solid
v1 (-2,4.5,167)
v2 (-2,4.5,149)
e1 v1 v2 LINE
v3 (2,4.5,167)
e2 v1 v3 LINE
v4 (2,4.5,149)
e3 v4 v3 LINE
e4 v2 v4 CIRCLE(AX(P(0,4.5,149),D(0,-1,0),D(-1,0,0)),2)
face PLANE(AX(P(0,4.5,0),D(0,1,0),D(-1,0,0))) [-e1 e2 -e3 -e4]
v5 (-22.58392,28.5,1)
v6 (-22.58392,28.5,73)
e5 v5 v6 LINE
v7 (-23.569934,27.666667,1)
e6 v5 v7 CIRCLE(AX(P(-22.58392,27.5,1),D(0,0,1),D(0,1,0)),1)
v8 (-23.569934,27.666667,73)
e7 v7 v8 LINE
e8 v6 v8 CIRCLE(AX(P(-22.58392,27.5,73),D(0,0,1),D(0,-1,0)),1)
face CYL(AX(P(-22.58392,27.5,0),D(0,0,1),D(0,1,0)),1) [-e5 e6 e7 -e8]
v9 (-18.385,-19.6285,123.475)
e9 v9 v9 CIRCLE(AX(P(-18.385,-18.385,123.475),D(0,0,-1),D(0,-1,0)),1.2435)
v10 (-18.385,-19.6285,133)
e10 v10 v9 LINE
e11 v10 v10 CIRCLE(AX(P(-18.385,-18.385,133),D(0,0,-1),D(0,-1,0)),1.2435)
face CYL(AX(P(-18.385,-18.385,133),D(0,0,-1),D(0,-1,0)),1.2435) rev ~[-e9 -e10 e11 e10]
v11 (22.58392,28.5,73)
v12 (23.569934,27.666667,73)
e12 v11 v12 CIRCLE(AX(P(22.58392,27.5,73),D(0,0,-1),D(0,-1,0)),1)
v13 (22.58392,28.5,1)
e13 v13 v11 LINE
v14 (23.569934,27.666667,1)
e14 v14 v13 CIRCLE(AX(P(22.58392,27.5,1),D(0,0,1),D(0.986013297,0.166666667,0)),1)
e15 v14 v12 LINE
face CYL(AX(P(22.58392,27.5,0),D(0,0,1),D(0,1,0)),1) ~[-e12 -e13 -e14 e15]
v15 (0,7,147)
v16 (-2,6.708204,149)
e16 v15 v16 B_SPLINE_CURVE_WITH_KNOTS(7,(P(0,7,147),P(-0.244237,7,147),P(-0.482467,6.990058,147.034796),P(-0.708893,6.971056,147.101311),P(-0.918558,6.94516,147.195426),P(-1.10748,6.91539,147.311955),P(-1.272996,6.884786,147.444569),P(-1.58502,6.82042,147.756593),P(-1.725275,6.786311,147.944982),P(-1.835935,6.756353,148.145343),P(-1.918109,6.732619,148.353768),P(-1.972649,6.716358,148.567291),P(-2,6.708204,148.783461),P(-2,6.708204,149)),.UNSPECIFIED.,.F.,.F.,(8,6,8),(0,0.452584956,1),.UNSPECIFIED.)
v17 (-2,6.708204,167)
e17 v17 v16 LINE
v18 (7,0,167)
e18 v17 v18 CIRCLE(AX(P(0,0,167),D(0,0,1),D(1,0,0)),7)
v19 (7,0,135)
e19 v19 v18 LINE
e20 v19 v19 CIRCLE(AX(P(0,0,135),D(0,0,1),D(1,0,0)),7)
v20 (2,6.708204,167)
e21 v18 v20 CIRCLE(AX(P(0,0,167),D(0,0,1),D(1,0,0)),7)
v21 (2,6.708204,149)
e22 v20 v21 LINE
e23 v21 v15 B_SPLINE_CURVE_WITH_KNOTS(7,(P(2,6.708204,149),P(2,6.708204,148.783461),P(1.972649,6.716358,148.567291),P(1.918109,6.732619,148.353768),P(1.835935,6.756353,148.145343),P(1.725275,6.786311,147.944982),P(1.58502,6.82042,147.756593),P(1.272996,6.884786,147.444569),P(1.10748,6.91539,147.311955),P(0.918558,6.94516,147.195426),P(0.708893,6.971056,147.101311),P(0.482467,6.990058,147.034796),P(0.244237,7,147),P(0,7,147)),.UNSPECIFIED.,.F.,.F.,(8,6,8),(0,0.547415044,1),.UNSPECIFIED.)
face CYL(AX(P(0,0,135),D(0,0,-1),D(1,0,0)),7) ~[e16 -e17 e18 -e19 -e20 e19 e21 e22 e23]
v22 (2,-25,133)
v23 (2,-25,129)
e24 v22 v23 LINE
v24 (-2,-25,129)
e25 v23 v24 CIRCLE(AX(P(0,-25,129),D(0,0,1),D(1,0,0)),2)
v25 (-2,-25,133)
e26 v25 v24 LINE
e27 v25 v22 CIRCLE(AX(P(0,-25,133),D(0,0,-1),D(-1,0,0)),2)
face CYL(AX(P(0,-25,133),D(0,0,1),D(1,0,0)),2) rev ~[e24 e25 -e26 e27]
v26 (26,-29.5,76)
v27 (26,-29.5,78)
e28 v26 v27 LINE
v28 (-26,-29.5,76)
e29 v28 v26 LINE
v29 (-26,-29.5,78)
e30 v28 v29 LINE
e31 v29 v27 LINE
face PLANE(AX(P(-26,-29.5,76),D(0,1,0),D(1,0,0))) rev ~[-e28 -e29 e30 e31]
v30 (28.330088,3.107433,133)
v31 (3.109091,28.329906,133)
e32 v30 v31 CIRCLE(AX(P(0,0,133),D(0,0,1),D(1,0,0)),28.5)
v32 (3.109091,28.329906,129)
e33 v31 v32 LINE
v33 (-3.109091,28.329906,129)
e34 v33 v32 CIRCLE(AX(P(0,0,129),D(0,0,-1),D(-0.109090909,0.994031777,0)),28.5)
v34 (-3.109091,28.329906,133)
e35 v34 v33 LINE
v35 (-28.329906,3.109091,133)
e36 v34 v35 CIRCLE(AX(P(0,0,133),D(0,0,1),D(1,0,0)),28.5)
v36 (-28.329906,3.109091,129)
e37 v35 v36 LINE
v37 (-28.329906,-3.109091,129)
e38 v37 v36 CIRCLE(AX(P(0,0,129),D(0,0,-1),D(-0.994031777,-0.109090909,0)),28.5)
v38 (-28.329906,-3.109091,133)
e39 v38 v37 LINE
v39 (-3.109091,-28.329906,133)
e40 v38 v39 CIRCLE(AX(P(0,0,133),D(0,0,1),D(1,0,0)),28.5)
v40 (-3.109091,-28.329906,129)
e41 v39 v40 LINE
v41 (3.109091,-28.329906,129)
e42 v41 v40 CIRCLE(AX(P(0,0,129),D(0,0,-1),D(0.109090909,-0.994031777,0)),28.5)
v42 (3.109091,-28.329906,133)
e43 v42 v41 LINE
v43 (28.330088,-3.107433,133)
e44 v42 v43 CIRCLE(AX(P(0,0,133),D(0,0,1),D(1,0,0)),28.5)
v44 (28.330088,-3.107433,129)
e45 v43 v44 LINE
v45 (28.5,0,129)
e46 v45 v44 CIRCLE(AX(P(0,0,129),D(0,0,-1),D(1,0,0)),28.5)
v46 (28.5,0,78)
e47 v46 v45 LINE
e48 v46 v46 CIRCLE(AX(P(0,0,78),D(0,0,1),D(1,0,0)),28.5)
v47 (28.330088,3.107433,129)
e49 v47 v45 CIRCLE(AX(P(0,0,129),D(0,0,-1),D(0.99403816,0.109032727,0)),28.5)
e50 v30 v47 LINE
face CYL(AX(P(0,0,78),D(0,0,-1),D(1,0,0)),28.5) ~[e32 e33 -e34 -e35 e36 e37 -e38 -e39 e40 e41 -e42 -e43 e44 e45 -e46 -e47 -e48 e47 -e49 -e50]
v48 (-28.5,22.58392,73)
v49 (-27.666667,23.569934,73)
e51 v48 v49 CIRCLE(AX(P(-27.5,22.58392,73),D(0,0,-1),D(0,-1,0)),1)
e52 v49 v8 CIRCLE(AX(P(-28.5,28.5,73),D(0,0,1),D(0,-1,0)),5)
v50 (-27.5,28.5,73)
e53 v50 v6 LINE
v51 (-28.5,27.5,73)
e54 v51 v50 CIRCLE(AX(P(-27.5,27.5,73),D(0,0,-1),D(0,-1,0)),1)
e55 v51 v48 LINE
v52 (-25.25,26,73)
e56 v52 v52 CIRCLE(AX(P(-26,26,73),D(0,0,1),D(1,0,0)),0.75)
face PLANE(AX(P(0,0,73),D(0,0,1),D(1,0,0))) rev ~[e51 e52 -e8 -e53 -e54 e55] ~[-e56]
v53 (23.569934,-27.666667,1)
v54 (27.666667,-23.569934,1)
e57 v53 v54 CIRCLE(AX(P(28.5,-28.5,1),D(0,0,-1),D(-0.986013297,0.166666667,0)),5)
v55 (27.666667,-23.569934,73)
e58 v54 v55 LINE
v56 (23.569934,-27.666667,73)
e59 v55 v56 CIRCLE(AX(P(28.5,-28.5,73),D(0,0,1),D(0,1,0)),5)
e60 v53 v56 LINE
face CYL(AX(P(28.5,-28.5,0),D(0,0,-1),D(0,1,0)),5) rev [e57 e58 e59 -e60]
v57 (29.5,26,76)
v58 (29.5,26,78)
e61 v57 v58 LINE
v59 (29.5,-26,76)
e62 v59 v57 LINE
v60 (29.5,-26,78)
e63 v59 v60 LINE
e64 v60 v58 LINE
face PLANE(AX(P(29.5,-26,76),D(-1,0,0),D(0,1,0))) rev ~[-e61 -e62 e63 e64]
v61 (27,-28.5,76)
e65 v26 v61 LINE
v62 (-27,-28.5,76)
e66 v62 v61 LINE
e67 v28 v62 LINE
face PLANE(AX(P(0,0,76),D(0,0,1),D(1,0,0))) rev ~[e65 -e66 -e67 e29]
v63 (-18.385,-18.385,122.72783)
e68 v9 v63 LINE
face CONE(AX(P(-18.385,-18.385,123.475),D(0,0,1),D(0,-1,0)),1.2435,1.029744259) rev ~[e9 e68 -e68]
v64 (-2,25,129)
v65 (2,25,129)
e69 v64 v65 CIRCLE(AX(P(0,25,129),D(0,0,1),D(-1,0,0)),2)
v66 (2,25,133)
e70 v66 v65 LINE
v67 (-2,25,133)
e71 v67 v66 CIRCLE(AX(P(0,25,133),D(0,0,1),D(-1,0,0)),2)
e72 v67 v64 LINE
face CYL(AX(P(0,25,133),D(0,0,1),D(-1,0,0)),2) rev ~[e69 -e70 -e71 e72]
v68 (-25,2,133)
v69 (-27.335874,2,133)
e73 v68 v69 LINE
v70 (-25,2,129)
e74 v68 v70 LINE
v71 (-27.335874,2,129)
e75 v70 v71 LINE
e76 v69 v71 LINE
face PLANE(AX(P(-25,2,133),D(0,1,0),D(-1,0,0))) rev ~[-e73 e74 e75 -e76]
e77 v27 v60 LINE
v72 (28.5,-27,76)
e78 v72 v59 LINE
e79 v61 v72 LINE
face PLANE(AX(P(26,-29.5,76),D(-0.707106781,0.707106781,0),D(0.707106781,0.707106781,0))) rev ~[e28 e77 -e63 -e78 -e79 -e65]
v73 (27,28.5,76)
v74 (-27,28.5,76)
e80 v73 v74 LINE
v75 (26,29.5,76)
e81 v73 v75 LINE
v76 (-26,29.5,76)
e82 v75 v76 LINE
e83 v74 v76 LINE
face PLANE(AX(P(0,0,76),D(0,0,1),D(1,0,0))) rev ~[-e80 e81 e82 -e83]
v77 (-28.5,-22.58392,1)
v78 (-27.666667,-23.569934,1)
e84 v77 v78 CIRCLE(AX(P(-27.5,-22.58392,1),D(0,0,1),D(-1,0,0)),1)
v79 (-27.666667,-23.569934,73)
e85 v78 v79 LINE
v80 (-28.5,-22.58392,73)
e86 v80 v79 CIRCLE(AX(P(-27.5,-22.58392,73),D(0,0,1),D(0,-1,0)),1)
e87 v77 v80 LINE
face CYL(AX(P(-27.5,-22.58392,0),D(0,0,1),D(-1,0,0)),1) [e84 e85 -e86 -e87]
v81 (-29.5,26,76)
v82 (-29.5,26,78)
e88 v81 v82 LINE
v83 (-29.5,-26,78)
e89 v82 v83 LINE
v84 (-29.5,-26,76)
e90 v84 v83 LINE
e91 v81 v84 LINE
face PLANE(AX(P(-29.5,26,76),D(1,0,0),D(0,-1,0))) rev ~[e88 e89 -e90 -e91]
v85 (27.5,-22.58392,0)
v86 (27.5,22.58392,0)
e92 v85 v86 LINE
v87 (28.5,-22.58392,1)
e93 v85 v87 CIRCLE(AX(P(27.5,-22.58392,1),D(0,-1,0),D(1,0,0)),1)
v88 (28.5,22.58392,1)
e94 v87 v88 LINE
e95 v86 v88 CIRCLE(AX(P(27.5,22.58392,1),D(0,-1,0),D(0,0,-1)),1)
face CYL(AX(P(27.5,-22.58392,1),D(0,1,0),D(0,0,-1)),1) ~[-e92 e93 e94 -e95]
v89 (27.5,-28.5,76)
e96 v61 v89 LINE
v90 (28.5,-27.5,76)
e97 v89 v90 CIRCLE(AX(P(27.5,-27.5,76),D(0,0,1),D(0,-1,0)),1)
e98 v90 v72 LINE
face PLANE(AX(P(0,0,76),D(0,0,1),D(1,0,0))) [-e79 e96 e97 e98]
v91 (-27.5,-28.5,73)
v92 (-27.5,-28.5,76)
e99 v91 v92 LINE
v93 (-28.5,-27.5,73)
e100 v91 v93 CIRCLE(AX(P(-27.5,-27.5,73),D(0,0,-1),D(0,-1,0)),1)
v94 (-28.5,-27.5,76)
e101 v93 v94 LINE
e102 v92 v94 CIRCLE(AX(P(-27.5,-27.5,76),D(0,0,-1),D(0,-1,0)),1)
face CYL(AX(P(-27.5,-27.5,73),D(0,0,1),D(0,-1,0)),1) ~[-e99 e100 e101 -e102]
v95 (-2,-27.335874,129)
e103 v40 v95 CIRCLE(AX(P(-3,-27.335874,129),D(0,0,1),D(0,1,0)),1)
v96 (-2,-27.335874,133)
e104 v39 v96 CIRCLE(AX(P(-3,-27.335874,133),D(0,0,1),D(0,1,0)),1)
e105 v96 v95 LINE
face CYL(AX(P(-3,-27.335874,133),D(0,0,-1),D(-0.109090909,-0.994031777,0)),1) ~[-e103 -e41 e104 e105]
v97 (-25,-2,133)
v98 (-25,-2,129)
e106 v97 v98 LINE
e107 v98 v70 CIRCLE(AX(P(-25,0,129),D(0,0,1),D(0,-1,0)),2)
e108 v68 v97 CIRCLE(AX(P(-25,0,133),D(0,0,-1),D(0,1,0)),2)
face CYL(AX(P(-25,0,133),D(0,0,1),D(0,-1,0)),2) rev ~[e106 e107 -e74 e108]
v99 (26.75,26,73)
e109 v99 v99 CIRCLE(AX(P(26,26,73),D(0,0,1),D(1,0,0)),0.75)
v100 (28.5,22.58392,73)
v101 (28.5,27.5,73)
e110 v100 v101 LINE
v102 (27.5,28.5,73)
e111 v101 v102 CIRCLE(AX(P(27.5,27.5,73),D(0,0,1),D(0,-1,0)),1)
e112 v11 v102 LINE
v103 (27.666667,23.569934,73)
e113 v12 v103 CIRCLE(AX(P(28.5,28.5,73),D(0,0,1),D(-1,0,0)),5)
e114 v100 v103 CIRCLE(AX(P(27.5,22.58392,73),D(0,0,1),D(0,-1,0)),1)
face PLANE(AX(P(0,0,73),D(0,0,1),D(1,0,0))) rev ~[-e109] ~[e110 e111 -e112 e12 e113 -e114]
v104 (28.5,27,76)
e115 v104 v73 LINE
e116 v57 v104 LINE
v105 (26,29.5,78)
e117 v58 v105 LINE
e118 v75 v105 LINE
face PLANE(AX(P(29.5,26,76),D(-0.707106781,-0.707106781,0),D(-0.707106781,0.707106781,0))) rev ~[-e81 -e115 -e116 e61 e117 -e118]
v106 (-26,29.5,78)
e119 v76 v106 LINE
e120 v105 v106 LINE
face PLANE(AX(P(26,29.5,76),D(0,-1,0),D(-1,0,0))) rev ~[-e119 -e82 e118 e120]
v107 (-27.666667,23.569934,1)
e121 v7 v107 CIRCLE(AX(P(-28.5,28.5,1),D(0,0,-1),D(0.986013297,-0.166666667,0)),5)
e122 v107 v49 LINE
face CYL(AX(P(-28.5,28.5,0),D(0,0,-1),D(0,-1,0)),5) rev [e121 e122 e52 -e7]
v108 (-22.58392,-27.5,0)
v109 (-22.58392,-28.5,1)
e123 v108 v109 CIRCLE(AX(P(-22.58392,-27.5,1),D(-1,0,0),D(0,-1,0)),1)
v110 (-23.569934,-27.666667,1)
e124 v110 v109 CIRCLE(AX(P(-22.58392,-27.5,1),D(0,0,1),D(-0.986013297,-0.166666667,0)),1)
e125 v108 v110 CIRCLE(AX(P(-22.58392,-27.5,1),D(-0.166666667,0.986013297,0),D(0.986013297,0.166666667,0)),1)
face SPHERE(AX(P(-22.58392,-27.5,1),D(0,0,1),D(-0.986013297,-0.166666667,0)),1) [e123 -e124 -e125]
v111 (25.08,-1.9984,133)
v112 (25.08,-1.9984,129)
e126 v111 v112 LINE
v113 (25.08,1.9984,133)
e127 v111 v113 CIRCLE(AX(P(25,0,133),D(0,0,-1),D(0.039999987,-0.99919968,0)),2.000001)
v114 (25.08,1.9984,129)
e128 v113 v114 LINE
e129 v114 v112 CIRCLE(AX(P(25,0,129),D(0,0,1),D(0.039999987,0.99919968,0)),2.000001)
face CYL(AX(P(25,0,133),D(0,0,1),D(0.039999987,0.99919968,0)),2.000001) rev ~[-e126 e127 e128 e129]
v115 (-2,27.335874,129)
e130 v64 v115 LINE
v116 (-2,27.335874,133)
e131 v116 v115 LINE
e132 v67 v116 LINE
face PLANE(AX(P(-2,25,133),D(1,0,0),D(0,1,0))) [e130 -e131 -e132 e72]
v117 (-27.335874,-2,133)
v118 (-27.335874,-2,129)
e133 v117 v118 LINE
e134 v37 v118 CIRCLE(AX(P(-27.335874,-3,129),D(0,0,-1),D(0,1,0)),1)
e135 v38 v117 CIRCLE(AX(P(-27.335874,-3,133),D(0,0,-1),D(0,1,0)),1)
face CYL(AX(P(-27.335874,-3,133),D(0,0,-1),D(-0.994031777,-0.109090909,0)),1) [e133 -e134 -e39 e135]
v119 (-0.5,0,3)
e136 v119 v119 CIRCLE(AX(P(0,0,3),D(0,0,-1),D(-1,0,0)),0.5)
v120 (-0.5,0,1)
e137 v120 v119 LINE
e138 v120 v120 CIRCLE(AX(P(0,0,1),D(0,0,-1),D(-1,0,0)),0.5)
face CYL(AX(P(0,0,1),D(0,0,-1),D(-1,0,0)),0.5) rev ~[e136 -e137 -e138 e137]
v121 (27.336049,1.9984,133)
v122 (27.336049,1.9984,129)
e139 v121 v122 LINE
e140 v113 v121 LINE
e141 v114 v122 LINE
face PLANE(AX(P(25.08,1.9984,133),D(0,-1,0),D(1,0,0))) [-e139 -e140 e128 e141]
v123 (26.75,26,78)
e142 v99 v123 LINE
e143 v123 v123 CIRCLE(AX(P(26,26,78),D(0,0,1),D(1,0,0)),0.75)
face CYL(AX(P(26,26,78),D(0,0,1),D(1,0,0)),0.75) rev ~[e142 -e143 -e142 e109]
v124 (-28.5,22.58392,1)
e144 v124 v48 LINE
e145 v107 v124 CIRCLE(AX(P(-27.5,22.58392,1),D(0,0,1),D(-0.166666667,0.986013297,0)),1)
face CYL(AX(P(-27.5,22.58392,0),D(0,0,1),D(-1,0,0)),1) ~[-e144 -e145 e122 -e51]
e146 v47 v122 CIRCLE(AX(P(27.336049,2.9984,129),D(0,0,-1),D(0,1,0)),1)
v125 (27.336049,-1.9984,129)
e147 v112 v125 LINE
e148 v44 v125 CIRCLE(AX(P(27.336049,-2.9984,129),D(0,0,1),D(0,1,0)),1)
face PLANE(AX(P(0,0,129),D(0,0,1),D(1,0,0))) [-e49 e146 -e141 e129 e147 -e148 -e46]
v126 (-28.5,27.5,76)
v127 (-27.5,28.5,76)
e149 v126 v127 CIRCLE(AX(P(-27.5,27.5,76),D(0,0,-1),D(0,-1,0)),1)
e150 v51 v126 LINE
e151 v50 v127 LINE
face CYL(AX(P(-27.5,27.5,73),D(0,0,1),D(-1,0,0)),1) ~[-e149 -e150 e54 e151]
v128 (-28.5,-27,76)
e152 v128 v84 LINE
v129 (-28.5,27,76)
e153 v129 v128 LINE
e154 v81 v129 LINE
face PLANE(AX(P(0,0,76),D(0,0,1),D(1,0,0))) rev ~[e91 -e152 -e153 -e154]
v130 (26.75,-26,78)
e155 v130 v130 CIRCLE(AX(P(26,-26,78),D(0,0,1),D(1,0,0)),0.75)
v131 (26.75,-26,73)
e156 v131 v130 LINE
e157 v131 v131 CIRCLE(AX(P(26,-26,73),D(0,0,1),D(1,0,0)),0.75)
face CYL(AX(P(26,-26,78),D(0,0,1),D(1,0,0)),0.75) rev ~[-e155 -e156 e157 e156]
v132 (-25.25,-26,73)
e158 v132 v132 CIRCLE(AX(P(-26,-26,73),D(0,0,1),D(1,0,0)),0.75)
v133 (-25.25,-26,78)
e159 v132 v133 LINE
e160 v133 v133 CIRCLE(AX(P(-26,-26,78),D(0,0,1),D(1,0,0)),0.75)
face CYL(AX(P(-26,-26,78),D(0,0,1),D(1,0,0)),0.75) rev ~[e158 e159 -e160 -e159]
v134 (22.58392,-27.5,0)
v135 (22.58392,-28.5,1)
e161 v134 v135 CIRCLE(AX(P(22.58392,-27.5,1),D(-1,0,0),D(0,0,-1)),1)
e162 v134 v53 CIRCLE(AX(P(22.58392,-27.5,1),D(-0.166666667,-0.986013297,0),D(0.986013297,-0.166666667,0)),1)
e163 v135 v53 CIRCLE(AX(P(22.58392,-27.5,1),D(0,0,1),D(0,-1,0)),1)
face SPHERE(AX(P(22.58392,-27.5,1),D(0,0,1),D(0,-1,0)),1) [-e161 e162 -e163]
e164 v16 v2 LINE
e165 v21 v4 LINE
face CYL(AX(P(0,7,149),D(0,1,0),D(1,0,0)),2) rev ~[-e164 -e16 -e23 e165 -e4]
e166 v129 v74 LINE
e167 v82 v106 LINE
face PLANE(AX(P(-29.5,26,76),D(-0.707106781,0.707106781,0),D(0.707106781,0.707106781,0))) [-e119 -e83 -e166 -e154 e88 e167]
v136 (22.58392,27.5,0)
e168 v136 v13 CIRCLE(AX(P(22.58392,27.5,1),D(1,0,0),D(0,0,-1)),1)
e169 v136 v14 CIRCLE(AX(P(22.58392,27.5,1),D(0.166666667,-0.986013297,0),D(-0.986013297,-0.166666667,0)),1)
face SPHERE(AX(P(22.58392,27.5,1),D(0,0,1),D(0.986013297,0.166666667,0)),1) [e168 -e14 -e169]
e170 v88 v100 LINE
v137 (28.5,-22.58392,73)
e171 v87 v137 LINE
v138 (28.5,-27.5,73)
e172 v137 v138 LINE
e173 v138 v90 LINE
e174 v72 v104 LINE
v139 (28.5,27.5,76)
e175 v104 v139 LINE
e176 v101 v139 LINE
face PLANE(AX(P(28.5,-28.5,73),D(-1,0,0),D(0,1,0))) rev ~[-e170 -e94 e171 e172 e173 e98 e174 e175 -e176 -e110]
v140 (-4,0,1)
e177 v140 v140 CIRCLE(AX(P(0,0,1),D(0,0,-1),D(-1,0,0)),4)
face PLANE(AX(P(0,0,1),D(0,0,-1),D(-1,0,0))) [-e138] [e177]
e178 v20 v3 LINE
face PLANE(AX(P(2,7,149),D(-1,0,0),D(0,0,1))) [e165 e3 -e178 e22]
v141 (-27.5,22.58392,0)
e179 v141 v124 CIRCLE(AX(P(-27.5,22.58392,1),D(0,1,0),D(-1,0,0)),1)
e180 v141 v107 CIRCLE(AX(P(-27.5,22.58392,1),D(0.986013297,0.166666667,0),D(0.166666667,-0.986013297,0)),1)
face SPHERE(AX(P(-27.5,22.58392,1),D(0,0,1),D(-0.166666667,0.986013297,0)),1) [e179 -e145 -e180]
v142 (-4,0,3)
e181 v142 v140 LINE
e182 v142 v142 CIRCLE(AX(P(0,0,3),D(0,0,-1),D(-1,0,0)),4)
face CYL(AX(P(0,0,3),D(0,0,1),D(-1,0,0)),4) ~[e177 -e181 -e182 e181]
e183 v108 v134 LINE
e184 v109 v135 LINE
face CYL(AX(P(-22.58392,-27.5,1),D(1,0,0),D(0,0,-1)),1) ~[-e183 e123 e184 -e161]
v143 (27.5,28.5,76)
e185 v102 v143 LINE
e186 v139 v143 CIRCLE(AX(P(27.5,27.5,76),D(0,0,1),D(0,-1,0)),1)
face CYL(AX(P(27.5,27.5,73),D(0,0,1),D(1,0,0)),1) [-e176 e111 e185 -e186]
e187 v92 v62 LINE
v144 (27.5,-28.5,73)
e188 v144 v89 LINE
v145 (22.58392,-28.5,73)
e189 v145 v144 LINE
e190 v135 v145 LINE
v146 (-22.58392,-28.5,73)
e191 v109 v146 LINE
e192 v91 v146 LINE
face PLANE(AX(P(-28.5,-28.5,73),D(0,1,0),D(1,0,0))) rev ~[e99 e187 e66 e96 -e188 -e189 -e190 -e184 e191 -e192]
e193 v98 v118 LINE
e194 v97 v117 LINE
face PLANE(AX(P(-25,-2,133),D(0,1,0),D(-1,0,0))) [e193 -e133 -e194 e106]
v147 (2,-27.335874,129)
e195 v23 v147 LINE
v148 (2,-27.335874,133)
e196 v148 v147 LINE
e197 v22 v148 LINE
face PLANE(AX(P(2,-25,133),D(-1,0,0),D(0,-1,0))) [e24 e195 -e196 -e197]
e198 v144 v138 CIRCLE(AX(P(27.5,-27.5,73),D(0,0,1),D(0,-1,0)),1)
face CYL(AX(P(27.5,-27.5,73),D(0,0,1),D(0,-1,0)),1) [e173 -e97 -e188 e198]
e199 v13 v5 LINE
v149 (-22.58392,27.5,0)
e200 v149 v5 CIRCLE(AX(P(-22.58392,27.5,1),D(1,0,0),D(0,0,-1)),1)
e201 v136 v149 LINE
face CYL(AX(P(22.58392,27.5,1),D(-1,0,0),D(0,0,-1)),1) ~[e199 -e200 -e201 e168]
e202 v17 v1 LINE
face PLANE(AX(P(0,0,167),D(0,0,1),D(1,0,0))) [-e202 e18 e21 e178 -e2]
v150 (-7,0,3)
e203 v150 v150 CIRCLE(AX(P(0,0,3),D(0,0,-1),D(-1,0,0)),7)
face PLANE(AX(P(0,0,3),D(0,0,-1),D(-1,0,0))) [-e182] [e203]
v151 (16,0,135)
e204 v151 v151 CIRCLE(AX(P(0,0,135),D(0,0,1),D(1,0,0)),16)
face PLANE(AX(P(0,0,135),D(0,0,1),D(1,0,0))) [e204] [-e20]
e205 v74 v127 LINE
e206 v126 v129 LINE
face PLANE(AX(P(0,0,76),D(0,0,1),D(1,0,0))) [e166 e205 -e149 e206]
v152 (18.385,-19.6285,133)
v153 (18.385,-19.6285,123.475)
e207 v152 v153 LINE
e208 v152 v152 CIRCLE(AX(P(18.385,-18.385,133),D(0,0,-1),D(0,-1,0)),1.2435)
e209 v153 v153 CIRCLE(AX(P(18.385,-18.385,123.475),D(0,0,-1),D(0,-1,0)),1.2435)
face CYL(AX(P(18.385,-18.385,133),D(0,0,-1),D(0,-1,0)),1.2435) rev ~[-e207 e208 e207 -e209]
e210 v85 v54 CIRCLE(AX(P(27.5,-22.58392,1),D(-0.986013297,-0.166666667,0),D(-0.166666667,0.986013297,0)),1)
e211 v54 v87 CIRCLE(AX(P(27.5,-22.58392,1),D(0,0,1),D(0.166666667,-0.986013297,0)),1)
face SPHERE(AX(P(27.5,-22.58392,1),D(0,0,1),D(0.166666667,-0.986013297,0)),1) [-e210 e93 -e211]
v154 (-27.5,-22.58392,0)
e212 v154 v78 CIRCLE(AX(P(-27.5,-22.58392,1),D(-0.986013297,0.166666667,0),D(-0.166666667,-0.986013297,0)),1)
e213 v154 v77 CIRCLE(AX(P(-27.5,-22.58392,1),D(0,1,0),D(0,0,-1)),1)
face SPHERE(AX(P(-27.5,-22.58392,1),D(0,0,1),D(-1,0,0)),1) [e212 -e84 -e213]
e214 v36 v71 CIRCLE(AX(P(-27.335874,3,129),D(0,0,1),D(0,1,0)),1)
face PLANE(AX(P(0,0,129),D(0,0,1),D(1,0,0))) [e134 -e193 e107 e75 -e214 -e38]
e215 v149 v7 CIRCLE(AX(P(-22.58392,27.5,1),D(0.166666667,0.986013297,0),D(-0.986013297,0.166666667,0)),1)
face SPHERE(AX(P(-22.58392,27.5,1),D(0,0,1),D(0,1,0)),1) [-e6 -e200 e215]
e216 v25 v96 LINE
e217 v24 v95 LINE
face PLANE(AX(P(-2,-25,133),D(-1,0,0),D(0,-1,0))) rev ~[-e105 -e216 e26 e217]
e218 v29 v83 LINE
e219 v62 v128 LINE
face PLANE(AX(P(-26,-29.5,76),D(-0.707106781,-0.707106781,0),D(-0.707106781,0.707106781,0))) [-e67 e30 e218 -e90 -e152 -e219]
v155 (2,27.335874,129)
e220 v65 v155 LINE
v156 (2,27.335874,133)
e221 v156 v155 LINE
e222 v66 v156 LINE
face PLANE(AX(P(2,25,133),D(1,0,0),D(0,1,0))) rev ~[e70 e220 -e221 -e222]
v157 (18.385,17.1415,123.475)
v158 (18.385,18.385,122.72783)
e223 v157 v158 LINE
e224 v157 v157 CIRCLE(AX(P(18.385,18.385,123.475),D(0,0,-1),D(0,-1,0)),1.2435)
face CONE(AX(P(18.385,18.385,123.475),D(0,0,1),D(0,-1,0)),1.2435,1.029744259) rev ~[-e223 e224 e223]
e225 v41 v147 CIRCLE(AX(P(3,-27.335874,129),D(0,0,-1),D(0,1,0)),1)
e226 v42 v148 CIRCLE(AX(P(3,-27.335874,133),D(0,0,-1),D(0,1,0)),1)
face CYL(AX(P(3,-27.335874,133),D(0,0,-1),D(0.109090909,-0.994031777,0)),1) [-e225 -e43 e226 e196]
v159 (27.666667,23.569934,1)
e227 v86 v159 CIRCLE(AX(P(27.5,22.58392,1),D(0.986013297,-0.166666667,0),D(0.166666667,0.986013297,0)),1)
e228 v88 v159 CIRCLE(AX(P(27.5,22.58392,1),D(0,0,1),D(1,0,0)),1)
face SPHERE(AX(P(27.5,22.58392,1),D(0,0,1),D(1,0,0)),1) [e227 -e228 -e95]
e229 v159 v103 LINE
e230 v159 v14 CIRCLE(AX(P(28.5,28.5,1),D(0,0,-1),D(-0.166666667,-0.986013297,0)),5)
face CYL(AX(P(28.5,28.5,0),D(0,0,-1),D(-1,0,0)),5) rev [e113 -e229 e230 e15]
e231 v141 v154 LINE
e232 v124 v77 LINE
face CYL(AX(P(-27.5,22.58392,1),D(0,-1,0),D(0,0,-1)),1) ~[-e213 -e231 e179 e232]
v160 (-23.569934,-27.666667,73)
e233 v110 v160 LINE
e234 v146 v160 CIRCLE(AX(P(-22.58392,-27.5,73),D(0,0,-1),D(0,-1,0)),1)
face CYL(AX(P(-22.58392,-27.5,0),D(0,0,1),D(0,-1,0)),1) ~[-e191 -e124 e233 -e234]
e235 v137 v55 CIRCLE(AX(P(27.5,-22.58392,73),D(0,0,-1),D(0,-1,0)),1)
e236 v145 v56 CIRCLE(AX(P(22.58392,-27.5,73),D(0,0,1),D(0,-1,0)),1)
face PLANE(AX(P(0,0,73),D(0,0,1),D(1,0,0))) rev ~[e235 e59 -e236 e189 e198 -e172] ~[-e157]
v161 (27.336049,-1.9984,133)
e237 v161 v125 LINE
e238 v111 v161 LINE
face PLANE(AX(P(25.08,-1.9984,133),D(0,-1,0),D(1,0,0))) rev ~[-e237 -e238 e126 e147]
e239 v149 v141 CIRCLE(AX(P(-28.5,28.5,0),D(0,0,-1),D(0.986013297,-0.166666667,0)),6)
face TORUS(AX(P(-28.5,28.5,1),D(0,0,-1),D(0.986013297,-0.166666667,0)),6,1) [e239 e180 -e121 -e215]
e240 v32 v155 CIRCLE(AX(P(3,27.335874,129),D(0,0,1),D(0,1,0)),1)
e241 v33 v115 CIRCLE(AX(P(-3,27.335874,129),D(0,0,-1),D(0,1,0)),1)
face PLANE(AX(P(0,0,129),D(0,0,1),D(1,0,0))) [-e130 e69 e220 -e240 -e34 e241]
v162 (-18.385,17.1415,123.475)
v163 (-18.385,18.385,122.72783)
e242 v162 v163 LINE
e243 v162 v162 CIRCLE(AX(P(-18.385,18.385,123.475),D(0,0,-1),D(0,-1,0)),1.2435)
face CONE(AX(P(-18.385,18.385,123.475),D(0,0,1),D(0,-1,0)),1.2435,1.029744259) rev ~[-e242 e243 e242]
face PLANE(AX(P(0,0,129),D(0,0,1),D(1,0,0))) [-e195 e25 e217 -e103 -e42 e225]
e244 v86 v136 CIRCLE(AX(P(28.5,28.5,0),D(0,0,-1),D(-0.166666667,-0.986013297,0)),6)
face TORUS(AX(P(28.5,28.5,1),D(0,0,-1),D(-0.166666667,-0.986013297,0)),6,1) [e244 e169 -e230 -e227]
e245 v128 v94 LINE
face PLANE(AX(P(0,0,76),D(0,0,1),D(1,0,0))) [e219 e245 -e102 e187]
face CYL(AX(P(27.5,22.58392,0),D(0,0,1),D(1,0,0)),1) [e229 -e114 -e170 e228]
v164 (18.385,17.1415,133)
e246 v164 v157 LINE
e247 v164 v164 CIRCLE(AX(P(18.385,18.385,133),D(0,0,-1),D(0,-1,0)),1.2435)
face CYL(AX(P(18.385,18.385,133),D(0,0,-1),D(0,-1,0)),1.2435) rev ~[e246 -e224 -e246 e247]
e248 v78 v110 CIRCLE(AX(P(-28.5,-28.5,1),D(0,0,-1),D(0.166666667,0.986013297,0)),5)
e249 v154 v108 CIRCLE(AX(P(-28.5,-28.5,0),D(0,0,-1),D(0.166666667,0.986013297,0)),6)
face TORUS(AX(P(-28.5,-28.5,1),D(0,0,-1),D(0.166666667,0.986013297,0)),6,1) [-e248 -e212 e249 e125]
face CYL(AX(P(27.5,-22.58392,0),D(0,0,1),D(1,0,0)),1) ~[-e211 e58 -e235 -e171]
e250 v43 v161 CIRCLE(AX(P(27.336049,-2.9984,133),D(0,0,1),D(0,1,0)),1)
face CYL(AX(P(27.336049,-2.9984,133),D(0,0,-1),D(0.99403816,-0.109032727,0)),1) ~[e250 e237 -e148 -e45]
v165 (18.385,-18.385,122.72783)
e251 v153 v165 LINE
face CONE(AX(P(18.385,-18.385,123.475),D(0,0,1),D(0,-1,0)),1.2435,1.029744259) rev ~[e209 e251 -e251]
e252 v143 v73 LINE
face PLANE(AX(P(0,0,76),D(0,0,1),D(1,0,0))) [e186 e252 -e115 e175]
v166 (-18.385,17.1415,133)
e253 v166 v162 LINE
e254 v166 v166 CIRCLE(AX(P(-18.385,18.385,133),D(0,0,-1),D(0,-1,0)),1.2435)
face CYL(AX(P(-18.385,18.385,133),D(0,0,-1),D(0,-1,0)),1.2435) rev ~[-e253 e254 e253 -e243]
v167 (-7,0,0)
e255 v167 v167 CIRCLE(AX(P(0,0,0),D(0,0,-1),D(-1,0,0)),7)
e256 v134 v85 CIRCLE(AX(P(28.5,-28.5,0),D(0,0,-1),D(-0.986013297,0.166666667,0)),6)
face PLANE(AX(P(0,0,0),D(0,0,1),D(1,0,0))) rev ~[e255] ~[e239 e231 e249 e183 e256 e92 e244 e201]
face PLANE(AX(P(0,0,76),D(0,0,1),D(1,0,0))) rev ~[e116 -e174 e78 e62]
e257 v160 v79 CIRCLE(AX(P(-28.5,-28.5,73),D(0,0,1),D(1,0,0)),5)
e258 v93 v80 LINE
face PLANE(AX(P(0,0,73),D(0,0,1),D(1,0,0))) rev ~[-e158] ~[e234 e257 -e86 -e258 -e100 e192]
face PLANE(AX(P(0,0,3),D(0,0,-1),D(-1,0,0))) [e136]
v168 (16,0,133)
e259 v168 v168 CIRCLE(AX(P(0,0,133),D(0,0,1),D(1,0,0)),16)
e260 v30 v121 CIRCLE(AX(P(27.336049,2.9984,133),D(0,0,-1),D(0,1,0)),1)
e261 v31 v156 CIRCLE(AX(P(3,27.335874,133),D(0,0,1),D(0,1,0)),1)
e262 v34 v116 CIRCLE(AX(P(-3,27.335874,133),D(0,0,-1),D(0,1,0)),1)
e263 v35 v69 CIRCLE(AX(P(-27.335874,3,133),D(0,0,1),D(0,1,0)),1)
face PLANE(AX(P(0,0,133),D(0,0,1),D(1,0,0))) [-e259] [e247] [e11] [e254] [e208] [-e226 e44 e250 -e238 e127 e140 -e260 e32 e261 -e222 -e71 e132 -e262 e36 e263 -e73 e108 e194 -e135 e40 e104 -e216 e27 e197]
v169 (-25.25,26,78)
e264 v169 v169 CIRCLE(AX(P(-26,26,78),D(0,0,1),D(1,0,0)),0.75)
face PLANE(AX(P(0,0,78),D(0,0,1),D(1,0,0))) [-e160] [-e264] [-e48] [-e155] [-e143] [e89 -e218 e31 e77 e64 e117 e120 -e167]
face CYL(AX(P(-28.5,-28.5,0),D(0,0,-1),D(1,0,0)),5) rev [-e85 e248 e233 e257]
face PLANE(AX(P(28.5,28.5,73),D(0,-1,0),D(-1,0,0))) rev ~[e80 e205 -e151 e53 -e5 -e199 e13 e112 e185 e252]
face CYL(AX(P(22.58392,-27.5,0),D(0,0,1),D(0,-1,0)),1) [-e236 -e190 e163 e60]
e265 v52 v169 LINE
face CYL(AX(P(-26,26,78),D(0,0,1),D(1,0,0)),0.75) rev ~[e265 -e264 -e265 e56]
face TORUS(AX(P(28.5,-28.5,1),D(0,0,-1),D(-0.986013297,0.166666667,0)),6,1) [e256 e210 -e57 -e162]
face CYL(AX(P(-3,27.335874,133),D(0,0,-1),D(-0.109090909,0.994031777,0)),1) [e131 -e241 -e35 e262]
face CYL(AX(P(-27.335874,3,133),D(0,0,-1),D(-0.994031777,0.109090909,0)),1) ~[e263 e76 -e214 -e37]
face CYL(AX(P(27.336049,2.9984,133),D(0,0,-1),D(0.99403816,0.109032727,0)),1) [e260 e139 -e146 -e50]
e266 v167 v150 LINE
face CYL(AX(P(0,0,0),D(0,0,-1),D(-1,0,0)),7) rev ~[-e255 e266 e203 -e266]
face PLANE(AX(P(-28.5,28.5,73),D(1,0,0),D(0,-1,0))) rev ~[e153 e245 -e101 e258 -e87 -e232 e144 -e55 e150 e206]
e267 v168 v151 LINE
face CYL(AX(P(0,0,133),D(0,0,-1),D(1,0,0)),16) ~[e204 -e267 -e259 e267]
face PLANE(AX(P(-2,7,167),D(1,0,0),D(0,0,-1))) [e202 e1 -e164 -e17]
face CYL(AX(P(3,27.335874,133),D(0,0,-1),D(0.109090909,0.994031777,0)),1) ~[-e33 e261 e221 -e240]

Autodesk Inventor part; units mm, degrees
ref_plane "YZ Plane" through (0, 0, 0) normal (1, 0, 0) x (0, 1, 0)
ref_plane "XY Plane" through (0, 0, 0) normal (0, 0, 1) x (1, 0, 0)
sketch "Sketch1" plane through (0, 0, 0) normal (0, 0, 1) x (1, 0, 0)
  line L0 (-28.5, -28.5) -> (28.5, -28.5)
  line L1 (28.5, -28.5) -> (28.5, 28.5)
  line L2 (28.5, 28.5) -> (-28.5, 28.5)
  line L3 (-28.5, 28.5) -> (-28.5, -28.5)
  arc A0 (23.5, 28.5) -> (28.5, 23.5) centre (28.5, 28.5) ccw
  line L4 (0, 28.5) -> (0, -28.5) construction
  line L5 (-28.5, 0) -> (28.5, 0) construction
  arc A1 (-28.5, 23.5) -> (-23.5, 28.5) centre (-28.5, 28.5) ccw
  arc A2 (28.5, -23.5) -> (23.5, -28.5) centre (28.5, -28.5) ccw
  arc A3 (-23.5, -28.5) -> (-28.5, -23.5) centre (-28.5, -28.5) ccw
  point P0 (0, 0)
  dimension "d0" = 57
  dimension "d1" = 57
  dimension "d2" = 10
extrude "Extrusion1" add sketch "Sketch1" along normal blind 73 contours A3 L3 A1 L2 A0 L1 A2 L0
sketch "Sketch2" plane through (0, 0, 73) normal (0, 0, 1) x (1, 0, 0)
  line L0 (-28.5, -28.5) -> (28.5, -28.5)
  line L1 (28.5, -28.5) -> (28.5, 28.5)
  line L2 (28.5, 28.5) -> (-28.5, 28.5)
  line L3 (-28.5, 28.5) -> (-28.5, -28.5)
  line L4 (-28.5, -28.5) -> (28.5, 28.5) construction
  line L5 (28.5, -28.5) -> (-28.5, 28.5) construction
  point P0 (0, 0)
  dimension "d5" = 57
  dimension "d6" = 57
extrude "Extrusion2" add sketch "Sketch2" along normal blind 3
sketch "Sketch3" plane through (0, 0, 76) normal (0, 0, 1) x (1, 0, 0)
  arc A0 (-28.5, 23.5) -> (-23.5, 28.5) centre (-28.5, 28.5) ccw projected
  line L0 (-28.5, 23.5) -> (-18.5, 23.5) construction
  line L1 (-23.5, 28.5) -> (-28.5, 28.5) projected
  line L2 (-23.5, 28.5) -> (-23.5, 18.5) construction
  line L3 (-23.5, 28.5) -> (-13.5, 28.5) construction
  line L4 (-28.5, 28.5) -> (-23.5, 23.5) construction
  line L5 (-23.5, 28.5) -> (-28.5, 23.5) construction
  circle A1 centre (-26, 26) radius 0.75
  line L6 (23.5, 28.5) -> (-23.5, 28.5) projected
  line L7 (0, 28.5) -> (0, -28.5) construction
  line L8 (-23.5, -28.5) -> (23.5, -28.5) projected
  line L9 (28.5, -23.5) -> (28.5, 23.5) projected
  line L10 (-28.5, 23.5) -> (-28.5, -23.5) projected
  line L11 (-28.5, 0) -> (28.5, 0) construction
  circle A2 centre (26, 26) radius 0.75
  line L12 (28.5, 0) -> (-28.5, 0) construction
  circle A3 centre (-26, -26) radius 0.75
  circle A4 centre (26, -26) radius 0.75
  point P0 (0, 0)
  dimension "d9" = 10
  dimension "d11" = 10
  dimension "d12" = 90
  dimension "d13" = 1.5
extrude "Extrusion3" cut sketch "Sketch3" against normal blind 3
sketch "Sketch4" plane through (0, 0, 76) normal (0, 0, 1) x (1, 0, 0)
  line L0 (-29.5, -29.5) -> (29.5, -29.5)
  line L1 (29.5, -29.5) -> (29.5, 29.5)
  line L2 (29.5, 29.5) -> (-29.5, 29.5)
  line L3 (-29.5, 29.5) -> (-29.5, -29.5)
  line L4 (29.5, -29.5) -> (-29.5, 29.5) construction
  line L5 (-29.5, 26) -> (-26, 29.5)
  line L6 (0, 29.5) -> (0, -29.5) construction
  line L7 (-29.5, 0) -> (29.5, 0) construction
  line L8 (29.5, 26) -> (26, 29.5)
  line L9 (-26, -29.5) -> (-29.5, -26)
  line L10 (26, -29.5) -> (29.5, -26)
  point P0 (0, 0)
  dimension "d16" = 59
  dimension "d17" = 59
extrude "Extrusion4" add sketch "Sketch4" along normal blind 2 contours L9 L3 L5 L2 L8 L1 L10 L0
sketch "Sketch5" plane through (0, 0, 78) normal (0, 0, 1) x (1, 0, 0)
  circle A0 centre (26, 26) radius 0.75 projected
  circle A1 centre (26, -26) radius 0.75 projected
  circle A2 centre (-26, -26) radius 0.75 projected
  circle A3 centre (-26, 26) radius 0.75 projected
  circle A4 centre (-26, 26) radius 0.75 projected
  circle A5 centre (-26, 26) radius 0.75
  circle A6 centre (26, 26) radius 0.75
  circle A7 centre (26, -26) radius 0.75
  circle A8 centre (-26, -26) radius 0.75
  point P0 (0, 0)
extrude "Extrusion5" cut sketch "Sketch5" against normal blind 2
sketch "Sketch6" plane through (0, 0, 78) normal (0, 0, 1) x (1, 0, 0)
  circle A0 centre (0, 0) radius 28.5
extrude "Extrusion6" add sketch "Sketch6" along normal blind 55
sketch "Sketch7" plane through (0, 0, 133) normal (0, 0, 1) x (1, 0, 0)
  circle A0 centre (0, 0) radius 22.5 construction
  circle A1 centre (0, 0) radius 25 construction
  arc A2 (2, -25) -> (-2, -25) centre (0, -25) ccw
  circle A3 centre (0, 0) radius 28.5 projected
  line L0 (28.5, -27) -> (28.5, 27) projected
  line L1 (-28.5, 27) -> (-28.5, -27) projected
  line L2 (-23.5, -28.5) -> (23.5, -28.5) projected
  line L3 (-2, -23.5) -> (4, -23.5) construction
  line L4 (-2, -24.9199) -> (-2, -28.4297)
  line L5 (2, -24.9199) -> (2, -28.4297)
  arc A4 (-25, -2) -> (-25, 2) centre (-25, 0) ccw
  line L6 (-29.5, 26) -> (-29.5, -26) projected
  line L7 (-23, 2) -> (-15, 2) construction
  line L8 (-24.9199, 2) -> (-28.4297, 2)
  line L9 (-24.9199, -2) -> (-28.4297, -2)
  arc A5 (-2, 25) -> (2, 25) centre (0, 25) ccw
  line L10 (-2, 20.4297) -> (-2, 28.4297)
  line L11 (2, 20.4297) -> (2, 28.4297)
  line L12 (2, 20.4297) -> (10, 20.4297) construction
  line L13 (29.5, -26) -> (29.5, 26) projected
  arc A6 (25.08, 1.9984) -> (25.08, -1.9984) centre (25, 0) ccw
  line L14 (24.92, -1.9984) -> (28.4299, -1.9984)
  line L15 (24.92, 1.9984) -> (28.4299, 1.9984)
  circle A7 centre (-15, 16.7705) radius 1.5
  circle A8 centre (15, 16.7705) radius 1.5
  circle A9 centre (15, -16.7705) radius 1.5
  circle A10 centre (-15, -16.7705) radius 1.5
  circle A11 centre (-15, 16.7705) radius 1.5
  dimension "d26" = 50
  dimension "d25" = 45
  dimension "d28" = 4
  dimension "d32" = 4
  dimension "d39" = 4
  dimension "d40" = 8
  dimension "d41" = 8
  dimension "d42" = 90
  dimension "d46" = 4
  dimension "d83" = 3
  dimension "d84" = 3
  dimension "d85" = 3
  dimension "d86" = 3
extrude "Extrusion7" cut sketch "Sketch7" against normal blind 4 contours L5 A3 L4 A2 | L14 A6 L15 A3 | A3 L8 A4 L9 | L11 A5 L10 A3
fillet "Fillet1" radius 1 8 edges at (-2, -28.4297, 131) (2, -28.4297, 131) (28.4299, -1.9984, 131) (28.4299, 1.9984, 131) (-2, 28.4297, 131) (2, 28.4297, 131) (-28.4297, -2, 131) (-28.4297, 2, 131)
sketch "Sketch8" plane through (0, 0, 133) normal (0, 0, 1) x (1, 0, 0)
  circle A0 centre (0, 0) radius 16
  dimension "d52" = 32
extrude "Extrusion8" add sketch "Sketch8" along normal blind 2
sketch "Sketch9" plane through (0, 0, 135) normal (0, 0, 1) x (1, 0, 0)
  circle A0 centre (0, 0) radius 7
  dimension "d55" = 14
extrude "Extrusion9" add sketch "Sketch9" along normal blind 32
ref_plane "Work Plane1" through (0, 7, 0) normal (0, 1, 0) x (-1, 0, 0)
sketch "Sketch10" plane through (0, 7, 0) normal (0, 1, 0) x (-1, 0, 0)
  line L0 (7, 167) -> (-7, 167) projected
  line L1 (-7, 135) -> (7, 135) projected
  line L2 (7, 135) -> (7, 167) projected
  line L3 (-7, 135) -> (-7, 167) projected
  line L4 (7, 167) -> (-7, 167) projected
  line L5 (0, 167) -> (0, 157) construction
  line L6 (2, 147) -> (-2, 147)
  line L7 (-2, 147) -> (-2, 167)
  line L8 (-2, 167) -> (2, 167)
  line L9 (2, 167) -> (2, 147)
  line L10 (2, 147) -> (-2, 167) construction
  line L11 (-2, 147) -> (2, 167) construction
  line L12 (0, 147) -> (0, 149) construction
  arc A0 (-2, 149) -> (2, 149) centre (0, 149) ccw
  point P0 (0, 0)
  dimension "d66" = 10
  dimension "d67" = 4
  dimension "d68" = 2
extrude "Extrusion10" cut sketch "Sketch10" against normal blind 2.5 contours L9 A0 L7 L0
fillet "Fillet2" radius 1 8 edges at (-28.5, 23.5, 36.5) (-23.5, 28.5, 36.5) (23.5, 28.5, 36.5) (28.5, 23.5, 36.5) (23.5, -28.5, 36.5) (28.5, -23.5, 36.5) (-23.5, -28.5, 36.5) (-28.5, -23.5, 36.5)
fillet "Fillet3" radius 1 4 edges at (-28.5, 28.5, 74.5) (-28.5, -28.5, 74.5) (28.5, -28.5, 74.5) (28.5, 28.5, 74.5)
fillet "Fillet4" radius 1 8 edges at (0, 28.5, 0) (-24.9645, 24.9645, 0) (-28.5, 0, 0) (-24.9645, -24.9645, 0) (0, -28.5, 0) (24.9645, -24.9645, 0) (28.5, 0, 0) (24.9645, 24.9645, 0)
sketch "Sketch11" plane through (0, 0, 0) normal (0, 0, -1) x (-1, 0, 0)
  circle A0 centre (0, 0) radius 7 projected
  circle A1 centre (0, 0) radius 6
extrude "Extrusion11" cut sketch "Sketch11" against normal blind 3 contours A0 | A1
sketch "Sketch12" plane through (0, 0, 3) normal (0, 0, -1) x (-1, 0, 0)
  circle A0 centre (0, 0) radius 4
  dimension "d76" = 8
extrude "Extrusion12" add sketch "Sketch12" along normal blind 2
sketch "Sketch13" plane through (0, 0, 1) normal (0, 0, -1) x (-1, 0, 0)
  circle A0 centre (0, 0) radius 4 projected
  circle A1 centre (0, 0) radius 0.5
  dimension "d79" = 1
extrude "Extrusion13" cut sketch "Sketch13" against normal blind 2 contours A1
sketch "Sketch15" plane through (0, 0, 133) normal (0, 0, 1) x (1, 0, 0)
  circle A0 centre (0, 0) radius 7 projected
  circle A1 centre (0, 0) radius 26.0003 construction
  circle A2 centre (-26, 26) radius 0.75 construction
  circle A3 centre (0, 0) radius 0.5 construction
  line L0 (-26, 26) -> (0, 0) construction
  circle A4 centre (26, 26) radius 0.75 construction
  line L1 (0, 0) -> (26, 26) construction
  circle A5 centre (-26, -26) radius 0.75 construction
  line L2 (-26, -26) -> (0, 0) construction
  line L3 (26, -26) -> (0, 0) construction
  circle A6 centre (-18.385, 18.385) radius 1.5
  circle A7 centre (18.385, 18.385) radius 1.5
  circle A8 centre (-18.385, -18.385) radius 1.5
  circle A9 centre (18.385, -18.385) radius 1.5
  line L4 (18.385, -18.385) -> (-18.385, -18.385)
  dimension "d89" = 3
  dimension "d90" = 3
  dimension "d91" = 3
  dimension "d92" = 3
  dimension "d108" = 36.77
hole "Hole1" at (-18.385, 18.385, 133) at (18.385, 18.385, 133) at (-18.385, -18.385, 133) at (18.385, -18.385, 133) direction (0, 0, -1) diameter 2.487 depth 9.525 tip angle 118 thread size "5-40 UNC" class "2B" standard "ANSI Unified Screw Threads"
thread "Thread1" size "M1.6x0.35" class "6H" standard "ANSI Metric M Profile" full length
thread "Thread2" size "M1.6x0.35" class "6H" standard "ANSI Metric M Profile" full length
thread "Thread3" size "M1.6x0.35" class "6H" standard "ANSI Metric M Profile" full length
thread "Thread4" size "M1.6x0.35" class "6H" standard "ANSI Metric M Profile" full length
properties part number "Nema 23 Stepper Motor"
